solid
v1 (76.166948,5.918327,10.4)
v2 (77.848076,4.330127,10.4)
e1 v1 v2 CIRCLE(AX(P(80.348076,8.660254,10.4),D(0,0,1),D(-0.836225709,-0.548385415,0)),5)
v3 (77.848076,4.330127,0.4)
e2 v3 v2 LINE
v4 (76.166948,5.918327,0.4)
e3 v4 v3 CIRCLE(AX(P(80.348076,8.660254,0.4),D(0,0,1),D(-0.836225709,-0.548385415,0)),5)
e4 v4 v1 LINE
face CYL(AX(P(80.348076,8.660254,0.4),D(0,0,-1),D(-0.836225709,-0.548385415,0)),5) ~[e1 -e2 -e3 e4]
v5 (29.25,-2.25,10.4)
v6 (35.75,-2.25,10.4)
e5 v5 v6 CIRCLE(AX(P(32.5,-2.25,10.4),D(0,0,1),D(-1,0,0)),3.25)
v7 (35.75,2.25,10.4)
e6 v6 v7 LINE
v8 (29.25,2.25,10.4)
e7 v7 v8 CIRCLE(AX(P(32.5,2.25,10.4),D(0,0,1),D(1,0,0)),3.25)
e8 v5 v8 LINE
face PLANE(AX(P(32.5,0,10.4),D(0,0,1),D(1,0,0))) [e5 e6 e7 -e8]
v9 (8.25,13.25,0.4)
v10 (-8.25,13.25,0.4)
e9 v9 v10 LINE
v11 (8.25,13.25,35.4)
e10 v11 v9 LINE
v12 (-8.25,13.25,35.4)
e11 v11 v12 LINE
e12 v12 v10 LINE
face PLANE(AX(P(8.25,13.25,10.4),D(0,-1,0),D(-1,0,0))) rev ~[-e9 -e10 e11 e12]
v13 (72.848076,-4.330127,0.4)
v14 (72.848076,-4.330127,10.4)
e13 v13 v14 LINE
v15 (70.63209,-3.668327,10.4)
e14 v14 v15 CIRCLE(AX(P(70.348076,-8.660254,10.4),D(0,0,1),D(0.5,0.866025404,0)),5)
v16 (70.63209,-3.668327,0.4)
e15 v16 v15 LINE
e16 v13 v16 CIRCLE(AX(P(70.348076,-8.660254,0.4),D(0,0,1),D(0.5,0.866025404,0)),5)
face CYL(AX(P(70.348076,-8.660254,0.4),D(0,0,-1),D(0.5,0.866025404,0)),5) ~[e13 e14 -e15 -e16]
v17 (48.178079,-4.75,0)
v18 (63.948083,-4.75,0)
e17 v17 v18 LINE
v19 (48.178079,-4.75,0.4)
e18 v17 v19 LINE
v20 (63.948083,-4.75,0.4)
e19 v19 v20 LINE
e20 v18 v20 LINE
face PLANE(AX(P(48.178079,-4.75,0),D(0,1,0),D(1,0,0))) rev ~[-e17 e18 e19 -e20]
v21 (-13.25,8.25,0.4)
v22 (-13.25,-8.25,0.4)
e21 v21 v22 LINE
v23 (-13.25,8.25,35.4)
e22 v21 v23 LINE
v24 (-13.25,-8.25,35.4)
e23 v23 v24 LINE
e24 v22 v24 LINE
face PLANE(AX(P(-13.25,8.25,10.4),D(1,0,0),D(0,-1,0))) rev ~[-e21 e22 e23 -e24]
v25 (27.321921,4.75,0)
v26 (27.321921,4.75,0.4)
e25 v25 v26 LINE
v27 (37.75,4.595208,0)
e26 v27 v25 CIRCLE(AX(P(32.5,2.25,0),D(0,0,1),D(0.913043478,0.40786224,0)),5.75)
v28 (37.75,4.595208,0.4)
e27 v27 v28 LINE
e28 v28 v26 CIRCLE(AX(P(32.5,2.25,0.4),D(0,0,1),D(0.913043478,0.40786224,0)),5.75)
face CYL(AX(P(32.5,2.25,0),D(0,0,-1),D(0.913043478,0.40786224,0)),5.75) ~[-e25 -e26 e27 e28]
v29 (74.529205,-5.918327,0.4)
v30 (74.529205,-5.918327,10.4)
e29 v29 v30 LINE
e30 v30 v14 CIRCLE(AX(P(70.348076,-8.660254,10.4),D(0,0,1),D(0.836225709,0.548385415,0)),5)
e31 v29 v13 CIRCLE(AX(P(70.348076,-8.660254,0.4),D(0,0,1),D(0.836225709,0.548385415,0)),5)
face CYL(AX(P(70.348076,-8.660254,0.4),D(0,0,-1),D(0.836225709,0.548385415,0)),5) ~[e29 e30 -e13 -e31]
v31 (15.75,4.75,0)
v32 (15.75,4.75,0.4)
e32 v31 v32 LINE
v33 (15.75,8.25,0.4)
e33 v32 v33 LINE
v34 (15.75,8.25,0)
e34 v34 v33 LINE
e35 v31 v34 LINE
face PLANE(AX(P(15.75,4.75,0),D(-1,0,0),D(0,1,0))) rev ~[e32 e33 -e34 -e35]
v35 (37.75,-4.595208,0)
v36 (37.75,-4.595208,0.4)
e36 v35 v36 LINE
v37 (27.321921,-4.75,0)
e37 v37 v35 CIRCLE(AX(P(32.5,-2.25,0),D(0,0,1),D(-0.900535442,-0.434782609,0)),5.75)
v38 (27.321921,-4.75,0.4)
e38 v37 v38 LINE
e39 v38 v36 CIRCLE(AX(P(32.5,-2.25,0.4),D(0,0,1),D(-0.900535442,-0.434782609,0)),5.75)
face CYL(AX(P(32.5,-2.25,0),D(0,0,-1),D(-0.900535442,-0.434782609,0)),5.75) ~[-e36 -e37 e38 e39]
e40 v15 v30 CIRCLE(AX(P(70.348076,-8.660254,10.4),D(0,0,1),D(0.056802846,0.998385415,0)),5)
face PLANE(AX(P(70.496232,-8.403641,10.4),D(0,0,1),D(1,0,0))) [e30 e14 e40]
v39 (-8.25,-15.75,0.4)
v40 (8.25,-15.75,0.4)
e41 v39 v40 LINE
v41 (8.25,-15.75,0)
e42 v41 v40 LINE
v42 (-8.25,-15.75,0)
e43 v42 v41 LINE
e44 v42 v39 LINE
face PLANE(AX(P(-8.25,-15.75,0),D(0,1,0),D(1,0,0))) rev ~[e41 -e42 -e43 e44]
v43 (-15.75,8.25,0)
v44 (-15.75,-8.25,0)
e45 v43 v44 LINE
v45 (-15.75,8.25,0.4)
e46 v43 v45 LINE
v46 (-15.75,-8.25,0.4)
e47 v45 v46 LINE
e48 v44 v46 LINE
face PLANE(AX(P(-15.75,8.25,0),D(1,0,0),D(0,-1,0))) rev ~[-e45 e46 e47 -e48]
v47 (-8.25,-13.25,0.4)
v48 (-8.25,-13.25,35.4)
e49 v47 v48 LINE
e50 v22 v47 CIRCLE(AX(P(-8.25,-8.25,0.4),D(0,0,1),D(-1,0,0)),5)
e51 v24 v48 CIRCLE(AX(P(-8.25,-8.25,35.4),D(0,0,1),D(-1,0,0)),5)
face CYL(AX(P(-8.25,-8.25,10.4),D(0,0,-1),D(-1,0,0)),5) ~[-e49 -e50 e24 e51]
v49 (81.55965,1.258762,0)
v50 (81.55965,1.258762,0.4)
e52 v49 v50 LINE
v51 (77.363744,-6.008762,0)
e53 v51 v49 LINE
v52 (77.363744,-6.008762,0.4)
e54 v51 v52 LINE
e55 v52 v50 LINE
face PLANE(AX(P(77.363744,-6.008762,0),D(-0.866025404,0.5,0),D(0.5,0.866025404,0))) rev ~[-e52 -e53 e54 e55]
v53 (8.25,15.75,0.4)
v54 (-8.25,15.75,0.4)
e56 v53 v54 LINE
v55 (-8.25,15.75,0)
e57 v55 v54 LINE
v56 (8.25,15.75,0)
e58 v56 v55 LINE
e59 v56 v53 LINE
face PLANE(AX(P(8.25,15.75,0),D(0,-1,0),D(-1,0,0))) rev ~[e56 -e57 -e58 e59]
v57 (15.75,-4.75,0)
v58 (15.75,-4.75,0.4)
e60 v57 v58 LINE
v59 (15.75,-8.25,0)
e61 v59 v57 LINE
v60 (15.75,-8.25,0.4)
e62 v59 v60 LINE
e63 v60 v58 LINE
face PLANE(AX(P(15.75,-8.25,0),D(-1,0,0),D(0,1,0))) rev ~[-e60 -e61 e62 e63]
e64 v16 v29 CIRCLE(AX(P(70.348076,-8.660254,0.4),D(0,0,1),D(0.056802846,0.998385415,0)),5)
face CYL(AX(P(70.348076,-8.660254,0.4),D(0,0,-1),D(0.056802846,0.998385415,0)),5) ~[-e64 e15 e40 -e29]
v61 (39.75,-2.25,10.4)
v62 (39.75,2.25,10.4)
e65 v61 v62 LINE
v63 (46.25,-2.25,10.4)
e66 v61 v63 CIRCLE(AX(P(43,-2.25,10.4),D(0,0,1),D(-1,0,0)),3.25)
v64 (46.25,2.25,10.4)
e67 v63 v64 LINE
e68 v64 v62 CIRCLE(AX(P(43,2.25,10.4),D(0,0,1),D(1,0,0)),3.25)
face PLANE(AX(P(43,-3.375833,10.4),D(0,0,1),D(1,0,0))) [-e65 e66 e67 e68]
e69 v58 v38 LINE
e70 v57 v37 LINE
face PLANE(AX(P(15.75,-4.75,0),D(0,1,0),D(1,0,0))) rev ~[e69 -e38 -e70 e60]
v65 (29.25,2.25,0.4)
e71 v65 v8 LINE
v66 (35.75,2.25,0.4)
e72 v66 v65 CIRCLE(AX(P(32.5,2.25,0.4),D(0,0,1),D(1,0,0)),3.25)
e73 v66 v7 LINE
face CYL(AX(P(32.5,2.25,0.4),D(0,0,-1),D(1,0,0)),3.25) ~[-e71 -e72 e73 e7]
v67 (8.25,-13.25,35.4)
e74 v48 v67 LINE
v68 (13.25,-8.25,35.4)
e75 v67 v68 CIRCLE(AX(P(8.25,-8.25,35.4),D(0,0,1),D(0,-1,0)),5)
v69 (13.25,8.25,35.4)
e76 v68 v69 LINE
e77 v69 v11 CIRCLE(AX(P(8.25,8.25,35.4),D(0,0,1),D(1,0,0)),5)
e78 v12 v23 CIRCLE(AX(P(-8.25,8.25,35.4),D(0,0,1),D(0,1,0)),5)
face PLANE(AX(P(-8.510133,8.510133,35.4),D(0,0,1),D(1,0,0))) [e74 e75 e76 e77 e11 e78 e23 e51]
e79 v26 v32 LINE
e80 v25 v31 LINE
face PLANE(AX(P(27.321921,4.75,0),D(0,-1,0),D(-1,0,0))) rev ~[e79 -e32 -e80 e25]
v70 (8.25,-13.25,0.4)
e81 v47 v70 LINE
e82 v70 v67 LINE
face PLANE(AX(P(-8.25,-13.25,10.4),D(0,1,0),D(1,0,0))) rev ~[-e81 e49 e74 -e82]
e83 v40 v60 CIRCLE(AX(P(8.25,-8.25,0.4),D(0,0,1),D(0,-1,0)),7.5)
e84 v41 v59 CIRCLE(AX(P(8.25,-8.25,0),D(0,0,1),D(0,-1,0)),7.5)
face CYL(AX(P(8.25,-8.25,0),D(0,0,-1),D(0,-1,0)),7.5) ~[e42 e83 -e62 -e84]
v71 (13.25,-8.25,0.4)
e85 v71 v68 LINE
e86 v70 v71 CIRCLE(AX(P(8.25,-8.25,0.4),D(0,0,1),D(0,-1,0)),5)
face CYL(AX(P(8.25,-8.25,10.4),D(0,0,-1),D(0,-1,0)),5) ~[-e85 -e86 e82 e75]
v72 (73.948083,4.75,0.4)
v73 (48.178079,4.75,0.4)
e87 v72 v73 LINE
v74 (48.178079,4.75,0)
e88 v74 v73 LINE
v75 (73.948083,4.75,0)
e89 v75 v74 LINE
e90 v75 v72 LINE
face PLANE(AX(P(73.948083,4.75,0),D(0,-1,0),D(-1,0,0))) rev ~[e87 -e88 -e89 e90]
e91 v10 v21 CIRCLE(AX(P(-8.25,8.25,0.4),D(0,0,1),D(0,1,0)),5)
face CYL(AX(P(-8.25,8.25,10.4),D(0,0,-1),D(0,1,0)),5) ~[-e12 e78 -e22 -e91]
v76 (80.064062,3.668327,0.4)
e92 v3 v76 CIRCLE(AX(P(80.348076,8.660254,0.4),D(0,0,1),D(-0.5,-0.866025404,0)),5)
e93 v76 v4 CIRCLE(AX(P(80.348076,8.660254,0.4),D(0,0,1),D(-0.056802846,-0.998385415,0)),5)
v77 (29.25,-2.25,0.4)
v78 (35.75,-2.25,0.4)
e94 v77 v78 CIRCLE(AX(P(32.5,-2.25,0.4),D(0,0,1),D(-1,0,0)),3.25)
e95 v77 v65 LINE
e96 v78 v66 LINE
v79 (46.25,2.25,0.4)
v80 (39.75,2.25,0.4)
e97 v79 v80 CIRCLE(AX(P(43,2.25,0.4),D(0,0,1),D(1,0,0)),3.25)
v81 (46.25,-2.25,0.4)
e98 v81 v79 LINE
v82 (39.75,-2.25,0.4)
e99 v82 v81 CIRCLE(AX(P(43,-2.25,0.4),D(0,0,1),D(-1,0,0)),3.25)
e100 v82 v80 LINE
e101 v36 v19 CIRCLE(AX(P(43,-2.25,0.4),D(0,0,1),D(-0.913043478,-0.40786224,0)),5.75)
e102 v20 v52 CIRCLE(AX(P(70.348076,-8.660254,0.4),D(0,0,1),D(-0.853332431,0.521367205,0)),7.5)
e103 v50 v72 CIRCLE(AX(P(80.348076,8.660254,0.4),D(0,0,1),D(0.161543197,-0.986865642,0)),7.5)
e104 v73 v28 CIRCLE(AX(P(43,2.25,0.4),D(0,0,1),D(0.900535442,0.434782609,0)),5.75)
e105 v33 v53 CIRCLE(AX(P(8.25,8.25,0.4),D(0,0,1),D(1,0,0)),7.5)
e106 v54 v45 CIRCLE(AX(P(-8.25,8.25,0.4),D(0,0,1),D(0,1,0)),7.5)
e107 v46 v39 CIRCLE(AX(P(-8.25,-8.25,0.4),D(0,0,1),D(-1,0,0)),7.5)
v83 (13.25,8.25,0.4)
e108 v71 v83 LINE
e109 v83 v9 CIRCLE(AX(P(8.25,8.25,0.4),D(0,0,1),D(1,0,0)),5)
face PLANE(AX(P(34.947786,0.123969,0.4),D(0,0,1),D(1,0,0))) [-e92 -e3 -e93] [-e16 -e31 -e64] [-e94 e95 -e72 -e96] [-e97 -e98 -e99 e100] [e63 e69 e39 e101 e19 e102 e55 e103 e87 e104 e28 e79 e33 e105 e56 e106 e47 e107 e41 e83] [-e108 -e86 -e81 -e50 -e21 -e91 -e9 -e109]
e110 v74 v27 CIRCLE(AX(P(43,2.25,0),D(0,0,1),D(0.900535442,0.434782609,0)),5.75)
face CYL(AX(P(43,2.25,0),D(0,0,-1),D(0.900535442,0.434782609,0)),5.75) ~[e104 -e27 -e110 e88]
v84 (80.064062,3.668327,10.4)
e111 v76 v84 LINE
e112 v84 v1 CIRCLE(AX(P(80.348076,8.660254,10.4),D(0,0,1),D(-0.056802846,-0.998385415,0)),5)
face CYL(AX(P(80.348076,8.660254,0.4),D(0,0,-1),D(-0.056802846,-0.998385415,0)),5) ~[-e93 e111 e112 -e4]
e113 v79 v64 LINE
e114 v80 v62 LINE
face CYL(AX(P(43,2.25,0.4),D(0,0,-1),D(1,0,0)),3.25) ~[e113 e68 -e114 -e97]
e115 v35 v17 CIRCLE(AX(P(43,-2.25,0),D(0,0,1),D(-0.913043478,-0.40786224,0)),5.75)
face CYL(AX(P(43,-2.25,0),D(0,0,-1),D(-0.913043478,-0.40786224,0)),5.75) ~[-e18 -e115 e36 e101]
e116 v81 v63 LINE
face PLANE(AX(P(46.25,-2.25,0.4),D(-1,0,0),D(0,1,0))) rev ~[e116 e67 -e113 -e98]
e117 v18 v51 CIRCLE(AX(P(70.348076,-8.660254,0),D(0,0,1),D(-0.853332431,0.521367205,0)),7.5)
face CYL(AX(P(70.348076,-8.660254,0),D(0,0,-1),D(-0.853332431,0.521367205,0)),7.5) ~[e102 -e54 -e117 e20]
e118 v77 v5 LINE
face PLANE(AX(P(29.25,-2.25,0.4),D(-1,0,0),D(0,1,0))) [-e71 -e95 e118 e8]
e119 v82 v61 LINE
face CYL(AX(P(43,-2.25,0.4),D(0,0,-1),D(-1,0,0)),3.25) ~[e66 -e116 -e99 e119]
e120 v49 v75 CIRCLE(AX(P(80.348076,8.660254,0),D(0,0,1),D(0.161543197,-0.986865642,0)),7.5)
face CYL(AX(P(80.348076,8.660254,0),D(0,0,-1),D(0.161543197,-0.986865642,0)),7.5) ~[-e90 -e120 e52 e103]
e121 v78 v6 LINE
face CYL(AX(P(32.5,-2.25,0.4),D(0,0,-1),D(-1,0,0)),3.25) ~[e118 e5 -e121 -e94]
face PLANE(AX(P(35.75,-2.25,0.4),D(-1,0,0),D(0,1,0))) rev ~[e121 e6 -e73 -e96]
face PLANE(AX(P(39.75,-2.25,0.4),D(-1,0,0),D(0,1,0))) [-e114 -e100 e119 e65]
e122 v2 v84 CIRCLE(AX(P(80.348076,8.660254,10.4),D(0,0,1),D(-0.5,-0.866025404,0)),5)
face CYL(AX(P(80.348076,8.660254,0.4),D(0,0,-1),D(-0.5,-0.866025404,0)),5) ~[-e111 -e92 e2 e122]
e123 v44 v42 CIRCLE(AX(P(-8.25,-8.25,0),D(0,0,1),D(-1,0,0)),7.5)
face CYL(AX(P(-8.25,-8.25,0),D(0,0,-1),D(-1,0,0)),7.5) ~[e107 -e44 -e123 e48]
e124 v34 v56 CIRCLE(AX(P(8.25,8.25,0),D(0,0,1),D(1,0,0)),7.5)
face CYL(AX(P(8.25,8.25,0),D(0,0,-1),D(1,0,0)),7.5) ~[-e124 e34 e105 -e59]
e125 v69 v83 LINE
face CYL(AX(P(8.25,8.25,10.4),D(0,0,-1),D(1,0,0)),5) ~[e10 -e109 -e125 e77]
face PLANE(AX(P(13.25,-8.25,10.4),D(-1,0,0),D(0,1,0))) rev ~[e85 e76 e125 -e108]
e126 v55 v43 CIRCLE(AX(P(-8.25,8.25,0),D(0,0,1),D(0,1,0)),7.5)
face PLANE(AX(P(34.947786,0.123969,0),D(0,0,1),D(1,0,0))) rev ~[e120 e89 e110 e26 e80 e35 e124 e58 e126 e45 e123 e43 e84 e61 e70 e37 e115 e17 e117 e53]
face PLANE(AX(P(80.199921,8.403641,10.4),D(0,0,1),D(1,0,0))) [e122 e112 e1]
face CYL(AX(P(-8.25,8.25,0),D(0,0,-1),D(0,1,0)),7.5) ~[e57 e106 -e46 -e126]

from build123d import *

# Parameters (mm, degrees)
F0_W     = 16
F0_H     = 4.5
F0_W_2   = 6.5
F0_W_3   = 4
F1_DEPTH = 0.4
F2_W     = 6.5
F2_H     = 4.5
F3_DEPTH = 10
F4_DEPTH = 25


with BuildPart() as f1:
    # F0 (on Top) → F1 (new body)
    with BuildSketch(Plane.XY):
        with BuildLine():
            Line((15.75, 4.75), (15.75, 8.25))
            ThreePointArc((15.75, 8.25), (13.5533008589, 13.5533008589), (8.25, 15.75))
            Line((8.25, 15.75), (-8.25, 15.75))
            ThreePointArc((-8.25, 15.75), (-13.5533008589, 13.5533008589), (-15.75, 8.25))
            Line((-15.75, 8.25), (-15.75, -8.25))
            ThreePointArc((-15.75, -8.25), (-13.5533008589, -13.5533008589), (-8.25, -15.75))
            Line((-8.25, -15.75), (8.25, -15.75))
            ThreePointArc((8.25, -15.75), (13.5533008589, -13.5533008589), (15.75, -8.25))
            Line((15.75, -8.25), (15.75, -4.75))
            Line((15.75, -4.75), (27.3219212057, -4.75))
            ThreePointArc((27.3219212057, -4.75), (32.5853423404, -7.9993666334), (37.75, -4.5952078799))
            ThreePointArc((37.75, -4.5952078799), (42.9146576596, -7.9993666334), (48.1780787943, -4.75))
            Line((48.1780787943, -4.75), (63.9480829801, -4.75))
            ThreePointArc((63.9480829801, -4.75), (69.6474451199, -16.1274567319), (77.3637435709, -6.0087617221))
            Line((77.3637435709, -6.0087617221), (81.5596501878, 1.2587617221))
            ThreePointArc((81.5596501878, 1.2587617221), (83.4749132345, 15.4773568118), (73.9480829801, 4.75))
            Line((73.9480829801, 4.75), (48.1780787943, 4.75))
            ThreePointArc((48.1780787943, 4.75), (42.9146576596, 7.9993666334), (37.75, 4.5952078799))
            ThreePointArc((37.75, 4.5952078799), (32.5853423404, 7.9993666334), (27.3219212057, 4.75))
            Line((27.3219212057, 4.75), (15.75, 4.75))
        make_face()
        with BuildLine():
            ThreePointArc((-13.25, 8.25), (-11.7855339059, 11.7855339059), (-8.25, 13.25))
            Line((-8.25, 13.25), (-4.5, 13.25))
            Line((-4.5, 13.25), (4.5, 13.25))
            Line((4.5, 13.25), (8.25, 13.25))
            ThreePointArc((8.25, 13.25), (11.7855339059, 11.7855339059), (13.25, 8.25))
            Line((13.25, 8.25), (13.25, 4.5))
            Line((13.25, 4.5), (13.25, 2.25))
            Line((13.25, 2.25), (29.25, 2.25))
            ThreePointArc((29.25, 2.25), (32.5, 5.5), (35.75, 2.25))
            Line((35.75, 2.25), (39.75, 2.25))
            ThreePointArc((39.75, 2.25), (43, 5.5), (46.25, 2.25))
            Line((46.25, 2.25), (74.0490381057, 2.25))
            Line((74.0490381057, 2.25), (76.1669476654, 5.9183269633))
            ThreePointArc((76.1669476654, 5.9183269633), (82.8480762114, 12.9903810568), (80.0640619824, 3.6683269633))
            Line((80.0640619824, 3.6683269633), (74.5292047573, -5.9183269633))
            ThreePointArc((74.5292047573, -5.9183269633), (67.8480762114, -12.9903810568), (70.6320904403, -3.6683269633))
            Line((70.6320904403, -3.6683269633), (71.4509618943, -2.25))
            Line((71.4509618943, -2.25), (46.25, -2.25))
            ThreePointArc((46.25, -2.25), (43, -5.5), (39.75, -2.25))
            Line((39.75, -2.25), (35.75, -2.25))
            ThreePointArc((35.75, -2.25), (32.5, -5.5), (29.25, -2.25))
            Line((29.25, -2.25), (13.25, -2.25))
            Line((13.25, -2.25), (13.25, -4.5))
            Line((13.25, -4.5), (13.25, -8.25))
            ThreePointArc((13.25, -8.25), (11.7855339059, -11.7855339059), (8.25, -13.25))
            Line((8.25, -13.25), (4.5, -13.25))
            Line((4.5, -13.25), (-4.5, -13.25))
            Line((-4.5, -13.25), (-8.25, -13.25))
            ThreePointArc((-8.25, -13.25), (-11.7855339059, -11.7855339059), (-13.25, -8.25))
            Line((-13.25, -8.25), (-13.25, -4.5))
            Line((-13.25, -4.5), (-13.25, 4.5))
            Line((-13.25, 4.5), (-13.25, 8.25))
        make_face(mode=Mode.SUBTRACT)
        Polygon((74.0490381057, 2.25), (46.25, 2.25), (46.25, -2.25), (71.4509618943, -2.25), align=None)
        Polygon((4.5, -4.5), (0, -4.5), (-4.5, -4.5), (-4.5, -13.25), (4.5, -13.25), align=None)
        Polygon((-4.5, 0), (-4.5, 4.5), (-13.25, 4.5), (-13.25, -4.5), (-4.5, -4.5), align=None)
        Polygon((4.5, 13.25), (-4.5, 13.25), (-4.5, 4.5), (0, 4.5), (4.5, 4.5), align=None)
        Polygon((13.25, 4.5), (4.5, 4.5), (4.5, 0), (4.5, -4.5), (13.25, -4.5), (13.25, -2.25), (13.25, 2.25), align=None)
        with BuildLine():
            ThreePointArc((80.0640619824, 3.6683269633), (82.8480762114, 12.9903810568), (76.1669476654, 5.9183269633))
            ThreePointArc((76.1669476654, 5.9183269633), (77.8480762114, 4.3301270189), (80.0640619824, 3.6683269633))
        make_face()
        with BuildLine():
            ThreePointArc((74.5292047573, -5.9183269633), (72.8480762114, -4.3301270189), (70.6320904403, -3.6683269633))
            ThreePointArc((70.6320904403, -3.6683269633), (67.8480762114, -12.9903810568), (74.5292047573, -5.9183269633))
        make_face()
        with Locations((21.25, 0)):
            Rectangle(F0_W, F0_H)
        with BuildLine():
            Line((-4.5, -4.5), (-13.25, -4.5))
            Line((-13.25, -4.5), (-13.25, -8.25))
            ThreePointArc((-13.25, -8.25), (-11.7855339059, -11.7855339059), (-8.25, -13.25))
            Line((-8.25, -13.25), (-4.5, -13.25))
            Line((-4.5, -13.25), (-4.5, -4.5))
        make_face()
        with BuildLine():
            Line((8.25, 13.25), (4.5, 13.25))
            Line((4.5, 13.25), (4.5, 4.5))
            Line((4.5, 4.5), (13.25, 4.5))
            Line((13.25, 4.5), (13.25, 8.25))
            ThreePointArc((13.25, 8.25), (11.7855339059, 11.7855339059), (8.25, 13.25))
        make_face()
        with BuildLine():
            Line((13.25, -4.5), (4.5, -4.5))
            Line((4.5, -4.5), (4.5, -13.25))
            Line((4.5, -13.25), (8.25, -13.25))
            ThreePointArc((8.25, -13.25), (11.7855339059, -11.7855339059), (13.25, -8.25))
            Line((13.25, -8.25), (13.25, -4.5))
        make_face()
        with BuildLine():
            Line((-4.5, 13.25), (-8.25, 13.25))
            ThreePointArc((-8.25, 13.25), (-11.7855339059, 11.7855339059), (-13.25, 8.25))
            Line((-13.25, 8.25), (-13.25, 4.5))
            Line((-13.25, 4.5), (-4.5, 4.5))
            Line((-4.5, 4.5), (-4.5, 13.25))
        make_face()
        with BuildLine():
            ThreePointArc((0, 4.5), (-3.1819805153, 3.1819805153), (-4.5, 0))
            ThreePointArc((-4.5, 0), (-3.1819805153, -3.1819805153), (0, -4.5))
            ThreePointArc((0, -4.5), (3.1819805153, -3.1819805153), (4.5, 0))
            ThreePointArc((4.5, 0), (3.1819805153, 3.1819805153), (0, 4.5))
        make_face()
        with BuildLine():
            Line((76.1669476654, 5.9183269633), (74.0490381057, 2.25))
            Line((74.0490381057, 2.25), (71.4509618943, -2.25))
            Line((71.4509618943, -2.25), (70.6320904403, -3.6683269633))
            ThreePointArc((70.6320904403, -3.6683269633), (72.8480762114, -4.3301270189), (74.5292047573, -5.9183269633))
            Line((74.5292047573, -5.9183269633), (80.0640619824, 3.6683269633))
            ThreePointArc((80.0640619824, 3.6683269633), (77.8480762114, 4.3301270189), (76.1669476654, 5.9183269633))
        make_face()
        with Locations((43, 0)):
            Rectangle(F0_W_2, F0_H)
        with Locations((32.5, 0)):
            Rectangle(F0_W_2, F0_H)
        with Locations((37.75, 0)):
            Rectangle(F0_W_3, F0_H)
        with BuildLine():
            Line((46.25, -2.25), (39.75, -2.25))
            ThreePointArc((39.75, -2.25), (43, -5.5), (46.25, -2.25))
        make_face()
        with BuildLine():
            ThreePointArc((35.75, 2.25), (32.5, 5.5), (29.25, 2.25))
            Line((29.25, 2.25), (35.75, 2.25))
        make_face()
        with BuildLine():
            Line((35.75, -2.25), (29.25, -2.25))
            ThreePointArc((29.25, -2.25), (32.5, -5.5), (35.75, -2.25))
        make_face()
        with BuildLine():
            ThreePointArc((46.25, 2.25), (43, 5.5), (39.75, 2.25))
            Line((39.75, 2.25), (46.25, 2.25))
        make_face()
        with BuildLine():
            Line((4.5, 0), (4.5, 4.5))
            Line((4.5, 4.5), (0, 4.5))
            ThreePointArc((0, 4.5), (3.1819805153, 3.1819805153), (4.5, 0))
        make_face()
        with BuildLine():
            Line((0, 4.5), (-4.5, 4.5))
            Line((-4.5, 4.5), (-4.5, 0))
            ThreePointArc((-4.5, 0), (-3.1819805153, 3.1819805153), (0, 4.5))
        make_face()
        with BuildLine():
            ThreePointArc((0, -4.5), (-3.1819805153, -3.1819805153), (-4.5, 0))
            Line((-4.5, 0), (-4.5, -4.5))
            Line((-4.5, -4.5), (0, -4.5))
        make_face()
        with BuildLine():
            Line((4.5, -4.5), (4.5, 0))
            ThreePointArc((4.5, 0), (3.1819805153, -3.1819805153), (0, -4.5))
            Line((0, -4.5), (4.5, -4.5))
        make_face()
    extrude(amount=F1_DEPTH)

    # F2 (on face) → F3 (join)
    with BuildSketch(Plane.XY.offset(0.4)):
        with BuildLine():
            Line((-4.5, 13.25), (-8.25, 13.25))
            ThreePointArc((-8.25, 13.25), (-11.7855339059, 11.7855339059), (-13.25, 8.25))
            Line((-13.25, 8.25), (-13.25, 4.5))
            Line((-13.25, 4.5), (-4.5, 4.5))
            Line((-4.5, 4.5), (-4.5, 13.25))
        make_face()
        Polygon((4.5, 13.25), (-4.5, 13.25), (-4.5, 4.5), (0, 4.5), (4.5, 4.5), align=None)
        with BuildLine():
            Line((8.25, 13.25), (4.5, 13.25))
            Line((4.5, 13.25), (4.5, 4.5))
            Line((4.5, 4.5), (13.25, 4.5))
            Line((13.25, 4.5), (13.25, 8.25))
            ThreePointArc((13.25, 8.25), (11.7855339059, 11.7855339059), (8.25, 13.25))
        make_face()
        Polygon((13.25, 4.5), (4.5, 4.5), (4.5, 0), (4.5, -4.5), (13.25, -4.5), (13.25, -2.25), (13.25, 2.25), align=None)
        with BuildLine():
            Line((13.25, -4.5), (4.5, -4.5))
            Line((4.5, -4.5), (4.5, -13.25))
            Line((4.5, -13.25), (8.25, -13.25))
            ThreePointArc((8.25, -13.25), (11.7855339059, -11.7855339059), (13.25, -8.25))
            Line((13.25, -8.25), (13.25, -4.5))
        make_face()
        Polygon((4.5, -4.5), (0, -4.5), (-4.5, -4.5), (-4.5, -13.25), (4.5, -13.25), align=None)
        with BuildLine():
            Line((-4.5, -4.5), (-13.25, -4.5))
            Line((-13.25, -4.5), (-13.25, -8.25))
            ThreePointArc((-13.25, -8.25), (-11.7855339059, -11.7855339059), (-8.25, -13.25))
            Line((-8.25, -13.25), (-4.5, -13.25))
            Line((-4.5, -13.25), (-4.5, -4.5))
        make_face()
        Polygon((-4.5, 0), (-4.5, 4.5), (-13.25, 4.5), (-13.25, -4.5), (-4.5, -4.5), align=None)
        with BuildLine():
            Line((4.5, 0), (4.5, 4.5))
            Line((4.5, 4.5), (0, 4.5))
            ThreePointArc((0, 4.5), (3.1819805153, 3.1819805153), (4.5, 0))
        make_face()
        with BuildLine():
            Line((4.5, -4.5), (4.5, 0))
            ThreePointArc((4.5, 0), (3.1819805153, -3.1819805153), (0, -4.5))
            Line((0, -4.5), (4.5, -4.5))
        make_face()
        with BuildLine():
            ThreePointArc((0, -4.5), (-3.1819805153, -3.1819805153), (-4.5, 0))
            Line((-4.5, 0), (-4.5, -4.5))
            Line((-4.5, -4.5), (0, -4.5))
        make_face()
        with BuildLine():
            Line((0, 4.5), (-4.5, 4.5))
            Line((-4.5, 4.5), (-4.5, 0))
            ThreePointArc((-4.5, 0), (-3.1819805153, 3.1819805153), (0, 4.5))
        make_face()
        with BuildLine():
            ThreePointArc((0, 4.5), (-3.1819805153, 3.1819805153), (-4.5, 0))
            ThreePointArc((-4.5, 0), (-3.1819805153, -3.1819805153), (0, -4.5))
            ThreePointArc((0, -4.5), (3.1819805153, -3.1819805153), (4.5, 0))
            ThreePointArc((4.5, 0), (3.1819805153, 3.1819805153), (0, 4.5))
        make_face()
        with Locations((32.5, 0)):
            Rectangle(F2_W, F2_H)
        with BuildLine():
            ThreePointArc((35.75, 2.25), (32.5, 5.5), (29.25, 2.25))
            Line((29.25, 2.25), (35.75, 2.25))
        make_face()
        with BuildLine():
            Line((35.75, -2.25), (29.25, -2.25))
            ThreePointArc((29.25, -2.25), (32.5, -5.5), (35.75, -2.25))
        make_face()
        with BuildLine():
            Line((46.25, -2.25), (39.75, -2.25))
            ThreePointArc((39.75, -2.25), (43, -5.5), (46.25, -2.25))
        make_face()
        with Locations((43, 0)):
            Rectangle(F2_W, F2_H)
        with BuildLine():
            ThreePointArc((46.25, 2.25), (43, 5.5), (39.75, 2.25))
            Line((39.75, 2.25), (46.25, 2.25))
        make_face()
        with BuildLine():
            ThreePointArc((72.8480762114, -4.3301270189), (71.7788727151, -3.8693437522), (70.6320904403, -3.6683269633))
            ThreePointArc((70.6320904403, -3.6683269633), (67.8480762114, -12.9903810568), (74.5292047573, -5.9183269633))
            ThreePointArc((74.5292047573, -5.9183269633), (73.7817279741, -5.0256927751), (72.8480762114, -4.3301270189))
        make_face()
        with BuildLine():
            ThreePointArc((80.0640619824, 3.6683269633), (82.8480762114, 12.9903810568), (76.1669476654, 5.9183269633))
            ThreePointArc((76.1669476654, 5.9183269633), (76.9144244486, 5.0256927751), (77.8480762114, 4.3301270189))
            ThreePointArc((77.8480762114, 4.3301270189), (78.9172797076, 3.8693437522), (80.0640619824, 3.6683269633))
        make_face()
    extrude(amount=F3_DEPTH)

    # F4 (add): a face of the model
    f4_faces = [f1.faces().sort_by_distance(p)[0] for p in [
        (0, 0, 10.4),
    ]]
    extrude(f4_faces, amount=F4_DEPTH)


solid = f1.part
